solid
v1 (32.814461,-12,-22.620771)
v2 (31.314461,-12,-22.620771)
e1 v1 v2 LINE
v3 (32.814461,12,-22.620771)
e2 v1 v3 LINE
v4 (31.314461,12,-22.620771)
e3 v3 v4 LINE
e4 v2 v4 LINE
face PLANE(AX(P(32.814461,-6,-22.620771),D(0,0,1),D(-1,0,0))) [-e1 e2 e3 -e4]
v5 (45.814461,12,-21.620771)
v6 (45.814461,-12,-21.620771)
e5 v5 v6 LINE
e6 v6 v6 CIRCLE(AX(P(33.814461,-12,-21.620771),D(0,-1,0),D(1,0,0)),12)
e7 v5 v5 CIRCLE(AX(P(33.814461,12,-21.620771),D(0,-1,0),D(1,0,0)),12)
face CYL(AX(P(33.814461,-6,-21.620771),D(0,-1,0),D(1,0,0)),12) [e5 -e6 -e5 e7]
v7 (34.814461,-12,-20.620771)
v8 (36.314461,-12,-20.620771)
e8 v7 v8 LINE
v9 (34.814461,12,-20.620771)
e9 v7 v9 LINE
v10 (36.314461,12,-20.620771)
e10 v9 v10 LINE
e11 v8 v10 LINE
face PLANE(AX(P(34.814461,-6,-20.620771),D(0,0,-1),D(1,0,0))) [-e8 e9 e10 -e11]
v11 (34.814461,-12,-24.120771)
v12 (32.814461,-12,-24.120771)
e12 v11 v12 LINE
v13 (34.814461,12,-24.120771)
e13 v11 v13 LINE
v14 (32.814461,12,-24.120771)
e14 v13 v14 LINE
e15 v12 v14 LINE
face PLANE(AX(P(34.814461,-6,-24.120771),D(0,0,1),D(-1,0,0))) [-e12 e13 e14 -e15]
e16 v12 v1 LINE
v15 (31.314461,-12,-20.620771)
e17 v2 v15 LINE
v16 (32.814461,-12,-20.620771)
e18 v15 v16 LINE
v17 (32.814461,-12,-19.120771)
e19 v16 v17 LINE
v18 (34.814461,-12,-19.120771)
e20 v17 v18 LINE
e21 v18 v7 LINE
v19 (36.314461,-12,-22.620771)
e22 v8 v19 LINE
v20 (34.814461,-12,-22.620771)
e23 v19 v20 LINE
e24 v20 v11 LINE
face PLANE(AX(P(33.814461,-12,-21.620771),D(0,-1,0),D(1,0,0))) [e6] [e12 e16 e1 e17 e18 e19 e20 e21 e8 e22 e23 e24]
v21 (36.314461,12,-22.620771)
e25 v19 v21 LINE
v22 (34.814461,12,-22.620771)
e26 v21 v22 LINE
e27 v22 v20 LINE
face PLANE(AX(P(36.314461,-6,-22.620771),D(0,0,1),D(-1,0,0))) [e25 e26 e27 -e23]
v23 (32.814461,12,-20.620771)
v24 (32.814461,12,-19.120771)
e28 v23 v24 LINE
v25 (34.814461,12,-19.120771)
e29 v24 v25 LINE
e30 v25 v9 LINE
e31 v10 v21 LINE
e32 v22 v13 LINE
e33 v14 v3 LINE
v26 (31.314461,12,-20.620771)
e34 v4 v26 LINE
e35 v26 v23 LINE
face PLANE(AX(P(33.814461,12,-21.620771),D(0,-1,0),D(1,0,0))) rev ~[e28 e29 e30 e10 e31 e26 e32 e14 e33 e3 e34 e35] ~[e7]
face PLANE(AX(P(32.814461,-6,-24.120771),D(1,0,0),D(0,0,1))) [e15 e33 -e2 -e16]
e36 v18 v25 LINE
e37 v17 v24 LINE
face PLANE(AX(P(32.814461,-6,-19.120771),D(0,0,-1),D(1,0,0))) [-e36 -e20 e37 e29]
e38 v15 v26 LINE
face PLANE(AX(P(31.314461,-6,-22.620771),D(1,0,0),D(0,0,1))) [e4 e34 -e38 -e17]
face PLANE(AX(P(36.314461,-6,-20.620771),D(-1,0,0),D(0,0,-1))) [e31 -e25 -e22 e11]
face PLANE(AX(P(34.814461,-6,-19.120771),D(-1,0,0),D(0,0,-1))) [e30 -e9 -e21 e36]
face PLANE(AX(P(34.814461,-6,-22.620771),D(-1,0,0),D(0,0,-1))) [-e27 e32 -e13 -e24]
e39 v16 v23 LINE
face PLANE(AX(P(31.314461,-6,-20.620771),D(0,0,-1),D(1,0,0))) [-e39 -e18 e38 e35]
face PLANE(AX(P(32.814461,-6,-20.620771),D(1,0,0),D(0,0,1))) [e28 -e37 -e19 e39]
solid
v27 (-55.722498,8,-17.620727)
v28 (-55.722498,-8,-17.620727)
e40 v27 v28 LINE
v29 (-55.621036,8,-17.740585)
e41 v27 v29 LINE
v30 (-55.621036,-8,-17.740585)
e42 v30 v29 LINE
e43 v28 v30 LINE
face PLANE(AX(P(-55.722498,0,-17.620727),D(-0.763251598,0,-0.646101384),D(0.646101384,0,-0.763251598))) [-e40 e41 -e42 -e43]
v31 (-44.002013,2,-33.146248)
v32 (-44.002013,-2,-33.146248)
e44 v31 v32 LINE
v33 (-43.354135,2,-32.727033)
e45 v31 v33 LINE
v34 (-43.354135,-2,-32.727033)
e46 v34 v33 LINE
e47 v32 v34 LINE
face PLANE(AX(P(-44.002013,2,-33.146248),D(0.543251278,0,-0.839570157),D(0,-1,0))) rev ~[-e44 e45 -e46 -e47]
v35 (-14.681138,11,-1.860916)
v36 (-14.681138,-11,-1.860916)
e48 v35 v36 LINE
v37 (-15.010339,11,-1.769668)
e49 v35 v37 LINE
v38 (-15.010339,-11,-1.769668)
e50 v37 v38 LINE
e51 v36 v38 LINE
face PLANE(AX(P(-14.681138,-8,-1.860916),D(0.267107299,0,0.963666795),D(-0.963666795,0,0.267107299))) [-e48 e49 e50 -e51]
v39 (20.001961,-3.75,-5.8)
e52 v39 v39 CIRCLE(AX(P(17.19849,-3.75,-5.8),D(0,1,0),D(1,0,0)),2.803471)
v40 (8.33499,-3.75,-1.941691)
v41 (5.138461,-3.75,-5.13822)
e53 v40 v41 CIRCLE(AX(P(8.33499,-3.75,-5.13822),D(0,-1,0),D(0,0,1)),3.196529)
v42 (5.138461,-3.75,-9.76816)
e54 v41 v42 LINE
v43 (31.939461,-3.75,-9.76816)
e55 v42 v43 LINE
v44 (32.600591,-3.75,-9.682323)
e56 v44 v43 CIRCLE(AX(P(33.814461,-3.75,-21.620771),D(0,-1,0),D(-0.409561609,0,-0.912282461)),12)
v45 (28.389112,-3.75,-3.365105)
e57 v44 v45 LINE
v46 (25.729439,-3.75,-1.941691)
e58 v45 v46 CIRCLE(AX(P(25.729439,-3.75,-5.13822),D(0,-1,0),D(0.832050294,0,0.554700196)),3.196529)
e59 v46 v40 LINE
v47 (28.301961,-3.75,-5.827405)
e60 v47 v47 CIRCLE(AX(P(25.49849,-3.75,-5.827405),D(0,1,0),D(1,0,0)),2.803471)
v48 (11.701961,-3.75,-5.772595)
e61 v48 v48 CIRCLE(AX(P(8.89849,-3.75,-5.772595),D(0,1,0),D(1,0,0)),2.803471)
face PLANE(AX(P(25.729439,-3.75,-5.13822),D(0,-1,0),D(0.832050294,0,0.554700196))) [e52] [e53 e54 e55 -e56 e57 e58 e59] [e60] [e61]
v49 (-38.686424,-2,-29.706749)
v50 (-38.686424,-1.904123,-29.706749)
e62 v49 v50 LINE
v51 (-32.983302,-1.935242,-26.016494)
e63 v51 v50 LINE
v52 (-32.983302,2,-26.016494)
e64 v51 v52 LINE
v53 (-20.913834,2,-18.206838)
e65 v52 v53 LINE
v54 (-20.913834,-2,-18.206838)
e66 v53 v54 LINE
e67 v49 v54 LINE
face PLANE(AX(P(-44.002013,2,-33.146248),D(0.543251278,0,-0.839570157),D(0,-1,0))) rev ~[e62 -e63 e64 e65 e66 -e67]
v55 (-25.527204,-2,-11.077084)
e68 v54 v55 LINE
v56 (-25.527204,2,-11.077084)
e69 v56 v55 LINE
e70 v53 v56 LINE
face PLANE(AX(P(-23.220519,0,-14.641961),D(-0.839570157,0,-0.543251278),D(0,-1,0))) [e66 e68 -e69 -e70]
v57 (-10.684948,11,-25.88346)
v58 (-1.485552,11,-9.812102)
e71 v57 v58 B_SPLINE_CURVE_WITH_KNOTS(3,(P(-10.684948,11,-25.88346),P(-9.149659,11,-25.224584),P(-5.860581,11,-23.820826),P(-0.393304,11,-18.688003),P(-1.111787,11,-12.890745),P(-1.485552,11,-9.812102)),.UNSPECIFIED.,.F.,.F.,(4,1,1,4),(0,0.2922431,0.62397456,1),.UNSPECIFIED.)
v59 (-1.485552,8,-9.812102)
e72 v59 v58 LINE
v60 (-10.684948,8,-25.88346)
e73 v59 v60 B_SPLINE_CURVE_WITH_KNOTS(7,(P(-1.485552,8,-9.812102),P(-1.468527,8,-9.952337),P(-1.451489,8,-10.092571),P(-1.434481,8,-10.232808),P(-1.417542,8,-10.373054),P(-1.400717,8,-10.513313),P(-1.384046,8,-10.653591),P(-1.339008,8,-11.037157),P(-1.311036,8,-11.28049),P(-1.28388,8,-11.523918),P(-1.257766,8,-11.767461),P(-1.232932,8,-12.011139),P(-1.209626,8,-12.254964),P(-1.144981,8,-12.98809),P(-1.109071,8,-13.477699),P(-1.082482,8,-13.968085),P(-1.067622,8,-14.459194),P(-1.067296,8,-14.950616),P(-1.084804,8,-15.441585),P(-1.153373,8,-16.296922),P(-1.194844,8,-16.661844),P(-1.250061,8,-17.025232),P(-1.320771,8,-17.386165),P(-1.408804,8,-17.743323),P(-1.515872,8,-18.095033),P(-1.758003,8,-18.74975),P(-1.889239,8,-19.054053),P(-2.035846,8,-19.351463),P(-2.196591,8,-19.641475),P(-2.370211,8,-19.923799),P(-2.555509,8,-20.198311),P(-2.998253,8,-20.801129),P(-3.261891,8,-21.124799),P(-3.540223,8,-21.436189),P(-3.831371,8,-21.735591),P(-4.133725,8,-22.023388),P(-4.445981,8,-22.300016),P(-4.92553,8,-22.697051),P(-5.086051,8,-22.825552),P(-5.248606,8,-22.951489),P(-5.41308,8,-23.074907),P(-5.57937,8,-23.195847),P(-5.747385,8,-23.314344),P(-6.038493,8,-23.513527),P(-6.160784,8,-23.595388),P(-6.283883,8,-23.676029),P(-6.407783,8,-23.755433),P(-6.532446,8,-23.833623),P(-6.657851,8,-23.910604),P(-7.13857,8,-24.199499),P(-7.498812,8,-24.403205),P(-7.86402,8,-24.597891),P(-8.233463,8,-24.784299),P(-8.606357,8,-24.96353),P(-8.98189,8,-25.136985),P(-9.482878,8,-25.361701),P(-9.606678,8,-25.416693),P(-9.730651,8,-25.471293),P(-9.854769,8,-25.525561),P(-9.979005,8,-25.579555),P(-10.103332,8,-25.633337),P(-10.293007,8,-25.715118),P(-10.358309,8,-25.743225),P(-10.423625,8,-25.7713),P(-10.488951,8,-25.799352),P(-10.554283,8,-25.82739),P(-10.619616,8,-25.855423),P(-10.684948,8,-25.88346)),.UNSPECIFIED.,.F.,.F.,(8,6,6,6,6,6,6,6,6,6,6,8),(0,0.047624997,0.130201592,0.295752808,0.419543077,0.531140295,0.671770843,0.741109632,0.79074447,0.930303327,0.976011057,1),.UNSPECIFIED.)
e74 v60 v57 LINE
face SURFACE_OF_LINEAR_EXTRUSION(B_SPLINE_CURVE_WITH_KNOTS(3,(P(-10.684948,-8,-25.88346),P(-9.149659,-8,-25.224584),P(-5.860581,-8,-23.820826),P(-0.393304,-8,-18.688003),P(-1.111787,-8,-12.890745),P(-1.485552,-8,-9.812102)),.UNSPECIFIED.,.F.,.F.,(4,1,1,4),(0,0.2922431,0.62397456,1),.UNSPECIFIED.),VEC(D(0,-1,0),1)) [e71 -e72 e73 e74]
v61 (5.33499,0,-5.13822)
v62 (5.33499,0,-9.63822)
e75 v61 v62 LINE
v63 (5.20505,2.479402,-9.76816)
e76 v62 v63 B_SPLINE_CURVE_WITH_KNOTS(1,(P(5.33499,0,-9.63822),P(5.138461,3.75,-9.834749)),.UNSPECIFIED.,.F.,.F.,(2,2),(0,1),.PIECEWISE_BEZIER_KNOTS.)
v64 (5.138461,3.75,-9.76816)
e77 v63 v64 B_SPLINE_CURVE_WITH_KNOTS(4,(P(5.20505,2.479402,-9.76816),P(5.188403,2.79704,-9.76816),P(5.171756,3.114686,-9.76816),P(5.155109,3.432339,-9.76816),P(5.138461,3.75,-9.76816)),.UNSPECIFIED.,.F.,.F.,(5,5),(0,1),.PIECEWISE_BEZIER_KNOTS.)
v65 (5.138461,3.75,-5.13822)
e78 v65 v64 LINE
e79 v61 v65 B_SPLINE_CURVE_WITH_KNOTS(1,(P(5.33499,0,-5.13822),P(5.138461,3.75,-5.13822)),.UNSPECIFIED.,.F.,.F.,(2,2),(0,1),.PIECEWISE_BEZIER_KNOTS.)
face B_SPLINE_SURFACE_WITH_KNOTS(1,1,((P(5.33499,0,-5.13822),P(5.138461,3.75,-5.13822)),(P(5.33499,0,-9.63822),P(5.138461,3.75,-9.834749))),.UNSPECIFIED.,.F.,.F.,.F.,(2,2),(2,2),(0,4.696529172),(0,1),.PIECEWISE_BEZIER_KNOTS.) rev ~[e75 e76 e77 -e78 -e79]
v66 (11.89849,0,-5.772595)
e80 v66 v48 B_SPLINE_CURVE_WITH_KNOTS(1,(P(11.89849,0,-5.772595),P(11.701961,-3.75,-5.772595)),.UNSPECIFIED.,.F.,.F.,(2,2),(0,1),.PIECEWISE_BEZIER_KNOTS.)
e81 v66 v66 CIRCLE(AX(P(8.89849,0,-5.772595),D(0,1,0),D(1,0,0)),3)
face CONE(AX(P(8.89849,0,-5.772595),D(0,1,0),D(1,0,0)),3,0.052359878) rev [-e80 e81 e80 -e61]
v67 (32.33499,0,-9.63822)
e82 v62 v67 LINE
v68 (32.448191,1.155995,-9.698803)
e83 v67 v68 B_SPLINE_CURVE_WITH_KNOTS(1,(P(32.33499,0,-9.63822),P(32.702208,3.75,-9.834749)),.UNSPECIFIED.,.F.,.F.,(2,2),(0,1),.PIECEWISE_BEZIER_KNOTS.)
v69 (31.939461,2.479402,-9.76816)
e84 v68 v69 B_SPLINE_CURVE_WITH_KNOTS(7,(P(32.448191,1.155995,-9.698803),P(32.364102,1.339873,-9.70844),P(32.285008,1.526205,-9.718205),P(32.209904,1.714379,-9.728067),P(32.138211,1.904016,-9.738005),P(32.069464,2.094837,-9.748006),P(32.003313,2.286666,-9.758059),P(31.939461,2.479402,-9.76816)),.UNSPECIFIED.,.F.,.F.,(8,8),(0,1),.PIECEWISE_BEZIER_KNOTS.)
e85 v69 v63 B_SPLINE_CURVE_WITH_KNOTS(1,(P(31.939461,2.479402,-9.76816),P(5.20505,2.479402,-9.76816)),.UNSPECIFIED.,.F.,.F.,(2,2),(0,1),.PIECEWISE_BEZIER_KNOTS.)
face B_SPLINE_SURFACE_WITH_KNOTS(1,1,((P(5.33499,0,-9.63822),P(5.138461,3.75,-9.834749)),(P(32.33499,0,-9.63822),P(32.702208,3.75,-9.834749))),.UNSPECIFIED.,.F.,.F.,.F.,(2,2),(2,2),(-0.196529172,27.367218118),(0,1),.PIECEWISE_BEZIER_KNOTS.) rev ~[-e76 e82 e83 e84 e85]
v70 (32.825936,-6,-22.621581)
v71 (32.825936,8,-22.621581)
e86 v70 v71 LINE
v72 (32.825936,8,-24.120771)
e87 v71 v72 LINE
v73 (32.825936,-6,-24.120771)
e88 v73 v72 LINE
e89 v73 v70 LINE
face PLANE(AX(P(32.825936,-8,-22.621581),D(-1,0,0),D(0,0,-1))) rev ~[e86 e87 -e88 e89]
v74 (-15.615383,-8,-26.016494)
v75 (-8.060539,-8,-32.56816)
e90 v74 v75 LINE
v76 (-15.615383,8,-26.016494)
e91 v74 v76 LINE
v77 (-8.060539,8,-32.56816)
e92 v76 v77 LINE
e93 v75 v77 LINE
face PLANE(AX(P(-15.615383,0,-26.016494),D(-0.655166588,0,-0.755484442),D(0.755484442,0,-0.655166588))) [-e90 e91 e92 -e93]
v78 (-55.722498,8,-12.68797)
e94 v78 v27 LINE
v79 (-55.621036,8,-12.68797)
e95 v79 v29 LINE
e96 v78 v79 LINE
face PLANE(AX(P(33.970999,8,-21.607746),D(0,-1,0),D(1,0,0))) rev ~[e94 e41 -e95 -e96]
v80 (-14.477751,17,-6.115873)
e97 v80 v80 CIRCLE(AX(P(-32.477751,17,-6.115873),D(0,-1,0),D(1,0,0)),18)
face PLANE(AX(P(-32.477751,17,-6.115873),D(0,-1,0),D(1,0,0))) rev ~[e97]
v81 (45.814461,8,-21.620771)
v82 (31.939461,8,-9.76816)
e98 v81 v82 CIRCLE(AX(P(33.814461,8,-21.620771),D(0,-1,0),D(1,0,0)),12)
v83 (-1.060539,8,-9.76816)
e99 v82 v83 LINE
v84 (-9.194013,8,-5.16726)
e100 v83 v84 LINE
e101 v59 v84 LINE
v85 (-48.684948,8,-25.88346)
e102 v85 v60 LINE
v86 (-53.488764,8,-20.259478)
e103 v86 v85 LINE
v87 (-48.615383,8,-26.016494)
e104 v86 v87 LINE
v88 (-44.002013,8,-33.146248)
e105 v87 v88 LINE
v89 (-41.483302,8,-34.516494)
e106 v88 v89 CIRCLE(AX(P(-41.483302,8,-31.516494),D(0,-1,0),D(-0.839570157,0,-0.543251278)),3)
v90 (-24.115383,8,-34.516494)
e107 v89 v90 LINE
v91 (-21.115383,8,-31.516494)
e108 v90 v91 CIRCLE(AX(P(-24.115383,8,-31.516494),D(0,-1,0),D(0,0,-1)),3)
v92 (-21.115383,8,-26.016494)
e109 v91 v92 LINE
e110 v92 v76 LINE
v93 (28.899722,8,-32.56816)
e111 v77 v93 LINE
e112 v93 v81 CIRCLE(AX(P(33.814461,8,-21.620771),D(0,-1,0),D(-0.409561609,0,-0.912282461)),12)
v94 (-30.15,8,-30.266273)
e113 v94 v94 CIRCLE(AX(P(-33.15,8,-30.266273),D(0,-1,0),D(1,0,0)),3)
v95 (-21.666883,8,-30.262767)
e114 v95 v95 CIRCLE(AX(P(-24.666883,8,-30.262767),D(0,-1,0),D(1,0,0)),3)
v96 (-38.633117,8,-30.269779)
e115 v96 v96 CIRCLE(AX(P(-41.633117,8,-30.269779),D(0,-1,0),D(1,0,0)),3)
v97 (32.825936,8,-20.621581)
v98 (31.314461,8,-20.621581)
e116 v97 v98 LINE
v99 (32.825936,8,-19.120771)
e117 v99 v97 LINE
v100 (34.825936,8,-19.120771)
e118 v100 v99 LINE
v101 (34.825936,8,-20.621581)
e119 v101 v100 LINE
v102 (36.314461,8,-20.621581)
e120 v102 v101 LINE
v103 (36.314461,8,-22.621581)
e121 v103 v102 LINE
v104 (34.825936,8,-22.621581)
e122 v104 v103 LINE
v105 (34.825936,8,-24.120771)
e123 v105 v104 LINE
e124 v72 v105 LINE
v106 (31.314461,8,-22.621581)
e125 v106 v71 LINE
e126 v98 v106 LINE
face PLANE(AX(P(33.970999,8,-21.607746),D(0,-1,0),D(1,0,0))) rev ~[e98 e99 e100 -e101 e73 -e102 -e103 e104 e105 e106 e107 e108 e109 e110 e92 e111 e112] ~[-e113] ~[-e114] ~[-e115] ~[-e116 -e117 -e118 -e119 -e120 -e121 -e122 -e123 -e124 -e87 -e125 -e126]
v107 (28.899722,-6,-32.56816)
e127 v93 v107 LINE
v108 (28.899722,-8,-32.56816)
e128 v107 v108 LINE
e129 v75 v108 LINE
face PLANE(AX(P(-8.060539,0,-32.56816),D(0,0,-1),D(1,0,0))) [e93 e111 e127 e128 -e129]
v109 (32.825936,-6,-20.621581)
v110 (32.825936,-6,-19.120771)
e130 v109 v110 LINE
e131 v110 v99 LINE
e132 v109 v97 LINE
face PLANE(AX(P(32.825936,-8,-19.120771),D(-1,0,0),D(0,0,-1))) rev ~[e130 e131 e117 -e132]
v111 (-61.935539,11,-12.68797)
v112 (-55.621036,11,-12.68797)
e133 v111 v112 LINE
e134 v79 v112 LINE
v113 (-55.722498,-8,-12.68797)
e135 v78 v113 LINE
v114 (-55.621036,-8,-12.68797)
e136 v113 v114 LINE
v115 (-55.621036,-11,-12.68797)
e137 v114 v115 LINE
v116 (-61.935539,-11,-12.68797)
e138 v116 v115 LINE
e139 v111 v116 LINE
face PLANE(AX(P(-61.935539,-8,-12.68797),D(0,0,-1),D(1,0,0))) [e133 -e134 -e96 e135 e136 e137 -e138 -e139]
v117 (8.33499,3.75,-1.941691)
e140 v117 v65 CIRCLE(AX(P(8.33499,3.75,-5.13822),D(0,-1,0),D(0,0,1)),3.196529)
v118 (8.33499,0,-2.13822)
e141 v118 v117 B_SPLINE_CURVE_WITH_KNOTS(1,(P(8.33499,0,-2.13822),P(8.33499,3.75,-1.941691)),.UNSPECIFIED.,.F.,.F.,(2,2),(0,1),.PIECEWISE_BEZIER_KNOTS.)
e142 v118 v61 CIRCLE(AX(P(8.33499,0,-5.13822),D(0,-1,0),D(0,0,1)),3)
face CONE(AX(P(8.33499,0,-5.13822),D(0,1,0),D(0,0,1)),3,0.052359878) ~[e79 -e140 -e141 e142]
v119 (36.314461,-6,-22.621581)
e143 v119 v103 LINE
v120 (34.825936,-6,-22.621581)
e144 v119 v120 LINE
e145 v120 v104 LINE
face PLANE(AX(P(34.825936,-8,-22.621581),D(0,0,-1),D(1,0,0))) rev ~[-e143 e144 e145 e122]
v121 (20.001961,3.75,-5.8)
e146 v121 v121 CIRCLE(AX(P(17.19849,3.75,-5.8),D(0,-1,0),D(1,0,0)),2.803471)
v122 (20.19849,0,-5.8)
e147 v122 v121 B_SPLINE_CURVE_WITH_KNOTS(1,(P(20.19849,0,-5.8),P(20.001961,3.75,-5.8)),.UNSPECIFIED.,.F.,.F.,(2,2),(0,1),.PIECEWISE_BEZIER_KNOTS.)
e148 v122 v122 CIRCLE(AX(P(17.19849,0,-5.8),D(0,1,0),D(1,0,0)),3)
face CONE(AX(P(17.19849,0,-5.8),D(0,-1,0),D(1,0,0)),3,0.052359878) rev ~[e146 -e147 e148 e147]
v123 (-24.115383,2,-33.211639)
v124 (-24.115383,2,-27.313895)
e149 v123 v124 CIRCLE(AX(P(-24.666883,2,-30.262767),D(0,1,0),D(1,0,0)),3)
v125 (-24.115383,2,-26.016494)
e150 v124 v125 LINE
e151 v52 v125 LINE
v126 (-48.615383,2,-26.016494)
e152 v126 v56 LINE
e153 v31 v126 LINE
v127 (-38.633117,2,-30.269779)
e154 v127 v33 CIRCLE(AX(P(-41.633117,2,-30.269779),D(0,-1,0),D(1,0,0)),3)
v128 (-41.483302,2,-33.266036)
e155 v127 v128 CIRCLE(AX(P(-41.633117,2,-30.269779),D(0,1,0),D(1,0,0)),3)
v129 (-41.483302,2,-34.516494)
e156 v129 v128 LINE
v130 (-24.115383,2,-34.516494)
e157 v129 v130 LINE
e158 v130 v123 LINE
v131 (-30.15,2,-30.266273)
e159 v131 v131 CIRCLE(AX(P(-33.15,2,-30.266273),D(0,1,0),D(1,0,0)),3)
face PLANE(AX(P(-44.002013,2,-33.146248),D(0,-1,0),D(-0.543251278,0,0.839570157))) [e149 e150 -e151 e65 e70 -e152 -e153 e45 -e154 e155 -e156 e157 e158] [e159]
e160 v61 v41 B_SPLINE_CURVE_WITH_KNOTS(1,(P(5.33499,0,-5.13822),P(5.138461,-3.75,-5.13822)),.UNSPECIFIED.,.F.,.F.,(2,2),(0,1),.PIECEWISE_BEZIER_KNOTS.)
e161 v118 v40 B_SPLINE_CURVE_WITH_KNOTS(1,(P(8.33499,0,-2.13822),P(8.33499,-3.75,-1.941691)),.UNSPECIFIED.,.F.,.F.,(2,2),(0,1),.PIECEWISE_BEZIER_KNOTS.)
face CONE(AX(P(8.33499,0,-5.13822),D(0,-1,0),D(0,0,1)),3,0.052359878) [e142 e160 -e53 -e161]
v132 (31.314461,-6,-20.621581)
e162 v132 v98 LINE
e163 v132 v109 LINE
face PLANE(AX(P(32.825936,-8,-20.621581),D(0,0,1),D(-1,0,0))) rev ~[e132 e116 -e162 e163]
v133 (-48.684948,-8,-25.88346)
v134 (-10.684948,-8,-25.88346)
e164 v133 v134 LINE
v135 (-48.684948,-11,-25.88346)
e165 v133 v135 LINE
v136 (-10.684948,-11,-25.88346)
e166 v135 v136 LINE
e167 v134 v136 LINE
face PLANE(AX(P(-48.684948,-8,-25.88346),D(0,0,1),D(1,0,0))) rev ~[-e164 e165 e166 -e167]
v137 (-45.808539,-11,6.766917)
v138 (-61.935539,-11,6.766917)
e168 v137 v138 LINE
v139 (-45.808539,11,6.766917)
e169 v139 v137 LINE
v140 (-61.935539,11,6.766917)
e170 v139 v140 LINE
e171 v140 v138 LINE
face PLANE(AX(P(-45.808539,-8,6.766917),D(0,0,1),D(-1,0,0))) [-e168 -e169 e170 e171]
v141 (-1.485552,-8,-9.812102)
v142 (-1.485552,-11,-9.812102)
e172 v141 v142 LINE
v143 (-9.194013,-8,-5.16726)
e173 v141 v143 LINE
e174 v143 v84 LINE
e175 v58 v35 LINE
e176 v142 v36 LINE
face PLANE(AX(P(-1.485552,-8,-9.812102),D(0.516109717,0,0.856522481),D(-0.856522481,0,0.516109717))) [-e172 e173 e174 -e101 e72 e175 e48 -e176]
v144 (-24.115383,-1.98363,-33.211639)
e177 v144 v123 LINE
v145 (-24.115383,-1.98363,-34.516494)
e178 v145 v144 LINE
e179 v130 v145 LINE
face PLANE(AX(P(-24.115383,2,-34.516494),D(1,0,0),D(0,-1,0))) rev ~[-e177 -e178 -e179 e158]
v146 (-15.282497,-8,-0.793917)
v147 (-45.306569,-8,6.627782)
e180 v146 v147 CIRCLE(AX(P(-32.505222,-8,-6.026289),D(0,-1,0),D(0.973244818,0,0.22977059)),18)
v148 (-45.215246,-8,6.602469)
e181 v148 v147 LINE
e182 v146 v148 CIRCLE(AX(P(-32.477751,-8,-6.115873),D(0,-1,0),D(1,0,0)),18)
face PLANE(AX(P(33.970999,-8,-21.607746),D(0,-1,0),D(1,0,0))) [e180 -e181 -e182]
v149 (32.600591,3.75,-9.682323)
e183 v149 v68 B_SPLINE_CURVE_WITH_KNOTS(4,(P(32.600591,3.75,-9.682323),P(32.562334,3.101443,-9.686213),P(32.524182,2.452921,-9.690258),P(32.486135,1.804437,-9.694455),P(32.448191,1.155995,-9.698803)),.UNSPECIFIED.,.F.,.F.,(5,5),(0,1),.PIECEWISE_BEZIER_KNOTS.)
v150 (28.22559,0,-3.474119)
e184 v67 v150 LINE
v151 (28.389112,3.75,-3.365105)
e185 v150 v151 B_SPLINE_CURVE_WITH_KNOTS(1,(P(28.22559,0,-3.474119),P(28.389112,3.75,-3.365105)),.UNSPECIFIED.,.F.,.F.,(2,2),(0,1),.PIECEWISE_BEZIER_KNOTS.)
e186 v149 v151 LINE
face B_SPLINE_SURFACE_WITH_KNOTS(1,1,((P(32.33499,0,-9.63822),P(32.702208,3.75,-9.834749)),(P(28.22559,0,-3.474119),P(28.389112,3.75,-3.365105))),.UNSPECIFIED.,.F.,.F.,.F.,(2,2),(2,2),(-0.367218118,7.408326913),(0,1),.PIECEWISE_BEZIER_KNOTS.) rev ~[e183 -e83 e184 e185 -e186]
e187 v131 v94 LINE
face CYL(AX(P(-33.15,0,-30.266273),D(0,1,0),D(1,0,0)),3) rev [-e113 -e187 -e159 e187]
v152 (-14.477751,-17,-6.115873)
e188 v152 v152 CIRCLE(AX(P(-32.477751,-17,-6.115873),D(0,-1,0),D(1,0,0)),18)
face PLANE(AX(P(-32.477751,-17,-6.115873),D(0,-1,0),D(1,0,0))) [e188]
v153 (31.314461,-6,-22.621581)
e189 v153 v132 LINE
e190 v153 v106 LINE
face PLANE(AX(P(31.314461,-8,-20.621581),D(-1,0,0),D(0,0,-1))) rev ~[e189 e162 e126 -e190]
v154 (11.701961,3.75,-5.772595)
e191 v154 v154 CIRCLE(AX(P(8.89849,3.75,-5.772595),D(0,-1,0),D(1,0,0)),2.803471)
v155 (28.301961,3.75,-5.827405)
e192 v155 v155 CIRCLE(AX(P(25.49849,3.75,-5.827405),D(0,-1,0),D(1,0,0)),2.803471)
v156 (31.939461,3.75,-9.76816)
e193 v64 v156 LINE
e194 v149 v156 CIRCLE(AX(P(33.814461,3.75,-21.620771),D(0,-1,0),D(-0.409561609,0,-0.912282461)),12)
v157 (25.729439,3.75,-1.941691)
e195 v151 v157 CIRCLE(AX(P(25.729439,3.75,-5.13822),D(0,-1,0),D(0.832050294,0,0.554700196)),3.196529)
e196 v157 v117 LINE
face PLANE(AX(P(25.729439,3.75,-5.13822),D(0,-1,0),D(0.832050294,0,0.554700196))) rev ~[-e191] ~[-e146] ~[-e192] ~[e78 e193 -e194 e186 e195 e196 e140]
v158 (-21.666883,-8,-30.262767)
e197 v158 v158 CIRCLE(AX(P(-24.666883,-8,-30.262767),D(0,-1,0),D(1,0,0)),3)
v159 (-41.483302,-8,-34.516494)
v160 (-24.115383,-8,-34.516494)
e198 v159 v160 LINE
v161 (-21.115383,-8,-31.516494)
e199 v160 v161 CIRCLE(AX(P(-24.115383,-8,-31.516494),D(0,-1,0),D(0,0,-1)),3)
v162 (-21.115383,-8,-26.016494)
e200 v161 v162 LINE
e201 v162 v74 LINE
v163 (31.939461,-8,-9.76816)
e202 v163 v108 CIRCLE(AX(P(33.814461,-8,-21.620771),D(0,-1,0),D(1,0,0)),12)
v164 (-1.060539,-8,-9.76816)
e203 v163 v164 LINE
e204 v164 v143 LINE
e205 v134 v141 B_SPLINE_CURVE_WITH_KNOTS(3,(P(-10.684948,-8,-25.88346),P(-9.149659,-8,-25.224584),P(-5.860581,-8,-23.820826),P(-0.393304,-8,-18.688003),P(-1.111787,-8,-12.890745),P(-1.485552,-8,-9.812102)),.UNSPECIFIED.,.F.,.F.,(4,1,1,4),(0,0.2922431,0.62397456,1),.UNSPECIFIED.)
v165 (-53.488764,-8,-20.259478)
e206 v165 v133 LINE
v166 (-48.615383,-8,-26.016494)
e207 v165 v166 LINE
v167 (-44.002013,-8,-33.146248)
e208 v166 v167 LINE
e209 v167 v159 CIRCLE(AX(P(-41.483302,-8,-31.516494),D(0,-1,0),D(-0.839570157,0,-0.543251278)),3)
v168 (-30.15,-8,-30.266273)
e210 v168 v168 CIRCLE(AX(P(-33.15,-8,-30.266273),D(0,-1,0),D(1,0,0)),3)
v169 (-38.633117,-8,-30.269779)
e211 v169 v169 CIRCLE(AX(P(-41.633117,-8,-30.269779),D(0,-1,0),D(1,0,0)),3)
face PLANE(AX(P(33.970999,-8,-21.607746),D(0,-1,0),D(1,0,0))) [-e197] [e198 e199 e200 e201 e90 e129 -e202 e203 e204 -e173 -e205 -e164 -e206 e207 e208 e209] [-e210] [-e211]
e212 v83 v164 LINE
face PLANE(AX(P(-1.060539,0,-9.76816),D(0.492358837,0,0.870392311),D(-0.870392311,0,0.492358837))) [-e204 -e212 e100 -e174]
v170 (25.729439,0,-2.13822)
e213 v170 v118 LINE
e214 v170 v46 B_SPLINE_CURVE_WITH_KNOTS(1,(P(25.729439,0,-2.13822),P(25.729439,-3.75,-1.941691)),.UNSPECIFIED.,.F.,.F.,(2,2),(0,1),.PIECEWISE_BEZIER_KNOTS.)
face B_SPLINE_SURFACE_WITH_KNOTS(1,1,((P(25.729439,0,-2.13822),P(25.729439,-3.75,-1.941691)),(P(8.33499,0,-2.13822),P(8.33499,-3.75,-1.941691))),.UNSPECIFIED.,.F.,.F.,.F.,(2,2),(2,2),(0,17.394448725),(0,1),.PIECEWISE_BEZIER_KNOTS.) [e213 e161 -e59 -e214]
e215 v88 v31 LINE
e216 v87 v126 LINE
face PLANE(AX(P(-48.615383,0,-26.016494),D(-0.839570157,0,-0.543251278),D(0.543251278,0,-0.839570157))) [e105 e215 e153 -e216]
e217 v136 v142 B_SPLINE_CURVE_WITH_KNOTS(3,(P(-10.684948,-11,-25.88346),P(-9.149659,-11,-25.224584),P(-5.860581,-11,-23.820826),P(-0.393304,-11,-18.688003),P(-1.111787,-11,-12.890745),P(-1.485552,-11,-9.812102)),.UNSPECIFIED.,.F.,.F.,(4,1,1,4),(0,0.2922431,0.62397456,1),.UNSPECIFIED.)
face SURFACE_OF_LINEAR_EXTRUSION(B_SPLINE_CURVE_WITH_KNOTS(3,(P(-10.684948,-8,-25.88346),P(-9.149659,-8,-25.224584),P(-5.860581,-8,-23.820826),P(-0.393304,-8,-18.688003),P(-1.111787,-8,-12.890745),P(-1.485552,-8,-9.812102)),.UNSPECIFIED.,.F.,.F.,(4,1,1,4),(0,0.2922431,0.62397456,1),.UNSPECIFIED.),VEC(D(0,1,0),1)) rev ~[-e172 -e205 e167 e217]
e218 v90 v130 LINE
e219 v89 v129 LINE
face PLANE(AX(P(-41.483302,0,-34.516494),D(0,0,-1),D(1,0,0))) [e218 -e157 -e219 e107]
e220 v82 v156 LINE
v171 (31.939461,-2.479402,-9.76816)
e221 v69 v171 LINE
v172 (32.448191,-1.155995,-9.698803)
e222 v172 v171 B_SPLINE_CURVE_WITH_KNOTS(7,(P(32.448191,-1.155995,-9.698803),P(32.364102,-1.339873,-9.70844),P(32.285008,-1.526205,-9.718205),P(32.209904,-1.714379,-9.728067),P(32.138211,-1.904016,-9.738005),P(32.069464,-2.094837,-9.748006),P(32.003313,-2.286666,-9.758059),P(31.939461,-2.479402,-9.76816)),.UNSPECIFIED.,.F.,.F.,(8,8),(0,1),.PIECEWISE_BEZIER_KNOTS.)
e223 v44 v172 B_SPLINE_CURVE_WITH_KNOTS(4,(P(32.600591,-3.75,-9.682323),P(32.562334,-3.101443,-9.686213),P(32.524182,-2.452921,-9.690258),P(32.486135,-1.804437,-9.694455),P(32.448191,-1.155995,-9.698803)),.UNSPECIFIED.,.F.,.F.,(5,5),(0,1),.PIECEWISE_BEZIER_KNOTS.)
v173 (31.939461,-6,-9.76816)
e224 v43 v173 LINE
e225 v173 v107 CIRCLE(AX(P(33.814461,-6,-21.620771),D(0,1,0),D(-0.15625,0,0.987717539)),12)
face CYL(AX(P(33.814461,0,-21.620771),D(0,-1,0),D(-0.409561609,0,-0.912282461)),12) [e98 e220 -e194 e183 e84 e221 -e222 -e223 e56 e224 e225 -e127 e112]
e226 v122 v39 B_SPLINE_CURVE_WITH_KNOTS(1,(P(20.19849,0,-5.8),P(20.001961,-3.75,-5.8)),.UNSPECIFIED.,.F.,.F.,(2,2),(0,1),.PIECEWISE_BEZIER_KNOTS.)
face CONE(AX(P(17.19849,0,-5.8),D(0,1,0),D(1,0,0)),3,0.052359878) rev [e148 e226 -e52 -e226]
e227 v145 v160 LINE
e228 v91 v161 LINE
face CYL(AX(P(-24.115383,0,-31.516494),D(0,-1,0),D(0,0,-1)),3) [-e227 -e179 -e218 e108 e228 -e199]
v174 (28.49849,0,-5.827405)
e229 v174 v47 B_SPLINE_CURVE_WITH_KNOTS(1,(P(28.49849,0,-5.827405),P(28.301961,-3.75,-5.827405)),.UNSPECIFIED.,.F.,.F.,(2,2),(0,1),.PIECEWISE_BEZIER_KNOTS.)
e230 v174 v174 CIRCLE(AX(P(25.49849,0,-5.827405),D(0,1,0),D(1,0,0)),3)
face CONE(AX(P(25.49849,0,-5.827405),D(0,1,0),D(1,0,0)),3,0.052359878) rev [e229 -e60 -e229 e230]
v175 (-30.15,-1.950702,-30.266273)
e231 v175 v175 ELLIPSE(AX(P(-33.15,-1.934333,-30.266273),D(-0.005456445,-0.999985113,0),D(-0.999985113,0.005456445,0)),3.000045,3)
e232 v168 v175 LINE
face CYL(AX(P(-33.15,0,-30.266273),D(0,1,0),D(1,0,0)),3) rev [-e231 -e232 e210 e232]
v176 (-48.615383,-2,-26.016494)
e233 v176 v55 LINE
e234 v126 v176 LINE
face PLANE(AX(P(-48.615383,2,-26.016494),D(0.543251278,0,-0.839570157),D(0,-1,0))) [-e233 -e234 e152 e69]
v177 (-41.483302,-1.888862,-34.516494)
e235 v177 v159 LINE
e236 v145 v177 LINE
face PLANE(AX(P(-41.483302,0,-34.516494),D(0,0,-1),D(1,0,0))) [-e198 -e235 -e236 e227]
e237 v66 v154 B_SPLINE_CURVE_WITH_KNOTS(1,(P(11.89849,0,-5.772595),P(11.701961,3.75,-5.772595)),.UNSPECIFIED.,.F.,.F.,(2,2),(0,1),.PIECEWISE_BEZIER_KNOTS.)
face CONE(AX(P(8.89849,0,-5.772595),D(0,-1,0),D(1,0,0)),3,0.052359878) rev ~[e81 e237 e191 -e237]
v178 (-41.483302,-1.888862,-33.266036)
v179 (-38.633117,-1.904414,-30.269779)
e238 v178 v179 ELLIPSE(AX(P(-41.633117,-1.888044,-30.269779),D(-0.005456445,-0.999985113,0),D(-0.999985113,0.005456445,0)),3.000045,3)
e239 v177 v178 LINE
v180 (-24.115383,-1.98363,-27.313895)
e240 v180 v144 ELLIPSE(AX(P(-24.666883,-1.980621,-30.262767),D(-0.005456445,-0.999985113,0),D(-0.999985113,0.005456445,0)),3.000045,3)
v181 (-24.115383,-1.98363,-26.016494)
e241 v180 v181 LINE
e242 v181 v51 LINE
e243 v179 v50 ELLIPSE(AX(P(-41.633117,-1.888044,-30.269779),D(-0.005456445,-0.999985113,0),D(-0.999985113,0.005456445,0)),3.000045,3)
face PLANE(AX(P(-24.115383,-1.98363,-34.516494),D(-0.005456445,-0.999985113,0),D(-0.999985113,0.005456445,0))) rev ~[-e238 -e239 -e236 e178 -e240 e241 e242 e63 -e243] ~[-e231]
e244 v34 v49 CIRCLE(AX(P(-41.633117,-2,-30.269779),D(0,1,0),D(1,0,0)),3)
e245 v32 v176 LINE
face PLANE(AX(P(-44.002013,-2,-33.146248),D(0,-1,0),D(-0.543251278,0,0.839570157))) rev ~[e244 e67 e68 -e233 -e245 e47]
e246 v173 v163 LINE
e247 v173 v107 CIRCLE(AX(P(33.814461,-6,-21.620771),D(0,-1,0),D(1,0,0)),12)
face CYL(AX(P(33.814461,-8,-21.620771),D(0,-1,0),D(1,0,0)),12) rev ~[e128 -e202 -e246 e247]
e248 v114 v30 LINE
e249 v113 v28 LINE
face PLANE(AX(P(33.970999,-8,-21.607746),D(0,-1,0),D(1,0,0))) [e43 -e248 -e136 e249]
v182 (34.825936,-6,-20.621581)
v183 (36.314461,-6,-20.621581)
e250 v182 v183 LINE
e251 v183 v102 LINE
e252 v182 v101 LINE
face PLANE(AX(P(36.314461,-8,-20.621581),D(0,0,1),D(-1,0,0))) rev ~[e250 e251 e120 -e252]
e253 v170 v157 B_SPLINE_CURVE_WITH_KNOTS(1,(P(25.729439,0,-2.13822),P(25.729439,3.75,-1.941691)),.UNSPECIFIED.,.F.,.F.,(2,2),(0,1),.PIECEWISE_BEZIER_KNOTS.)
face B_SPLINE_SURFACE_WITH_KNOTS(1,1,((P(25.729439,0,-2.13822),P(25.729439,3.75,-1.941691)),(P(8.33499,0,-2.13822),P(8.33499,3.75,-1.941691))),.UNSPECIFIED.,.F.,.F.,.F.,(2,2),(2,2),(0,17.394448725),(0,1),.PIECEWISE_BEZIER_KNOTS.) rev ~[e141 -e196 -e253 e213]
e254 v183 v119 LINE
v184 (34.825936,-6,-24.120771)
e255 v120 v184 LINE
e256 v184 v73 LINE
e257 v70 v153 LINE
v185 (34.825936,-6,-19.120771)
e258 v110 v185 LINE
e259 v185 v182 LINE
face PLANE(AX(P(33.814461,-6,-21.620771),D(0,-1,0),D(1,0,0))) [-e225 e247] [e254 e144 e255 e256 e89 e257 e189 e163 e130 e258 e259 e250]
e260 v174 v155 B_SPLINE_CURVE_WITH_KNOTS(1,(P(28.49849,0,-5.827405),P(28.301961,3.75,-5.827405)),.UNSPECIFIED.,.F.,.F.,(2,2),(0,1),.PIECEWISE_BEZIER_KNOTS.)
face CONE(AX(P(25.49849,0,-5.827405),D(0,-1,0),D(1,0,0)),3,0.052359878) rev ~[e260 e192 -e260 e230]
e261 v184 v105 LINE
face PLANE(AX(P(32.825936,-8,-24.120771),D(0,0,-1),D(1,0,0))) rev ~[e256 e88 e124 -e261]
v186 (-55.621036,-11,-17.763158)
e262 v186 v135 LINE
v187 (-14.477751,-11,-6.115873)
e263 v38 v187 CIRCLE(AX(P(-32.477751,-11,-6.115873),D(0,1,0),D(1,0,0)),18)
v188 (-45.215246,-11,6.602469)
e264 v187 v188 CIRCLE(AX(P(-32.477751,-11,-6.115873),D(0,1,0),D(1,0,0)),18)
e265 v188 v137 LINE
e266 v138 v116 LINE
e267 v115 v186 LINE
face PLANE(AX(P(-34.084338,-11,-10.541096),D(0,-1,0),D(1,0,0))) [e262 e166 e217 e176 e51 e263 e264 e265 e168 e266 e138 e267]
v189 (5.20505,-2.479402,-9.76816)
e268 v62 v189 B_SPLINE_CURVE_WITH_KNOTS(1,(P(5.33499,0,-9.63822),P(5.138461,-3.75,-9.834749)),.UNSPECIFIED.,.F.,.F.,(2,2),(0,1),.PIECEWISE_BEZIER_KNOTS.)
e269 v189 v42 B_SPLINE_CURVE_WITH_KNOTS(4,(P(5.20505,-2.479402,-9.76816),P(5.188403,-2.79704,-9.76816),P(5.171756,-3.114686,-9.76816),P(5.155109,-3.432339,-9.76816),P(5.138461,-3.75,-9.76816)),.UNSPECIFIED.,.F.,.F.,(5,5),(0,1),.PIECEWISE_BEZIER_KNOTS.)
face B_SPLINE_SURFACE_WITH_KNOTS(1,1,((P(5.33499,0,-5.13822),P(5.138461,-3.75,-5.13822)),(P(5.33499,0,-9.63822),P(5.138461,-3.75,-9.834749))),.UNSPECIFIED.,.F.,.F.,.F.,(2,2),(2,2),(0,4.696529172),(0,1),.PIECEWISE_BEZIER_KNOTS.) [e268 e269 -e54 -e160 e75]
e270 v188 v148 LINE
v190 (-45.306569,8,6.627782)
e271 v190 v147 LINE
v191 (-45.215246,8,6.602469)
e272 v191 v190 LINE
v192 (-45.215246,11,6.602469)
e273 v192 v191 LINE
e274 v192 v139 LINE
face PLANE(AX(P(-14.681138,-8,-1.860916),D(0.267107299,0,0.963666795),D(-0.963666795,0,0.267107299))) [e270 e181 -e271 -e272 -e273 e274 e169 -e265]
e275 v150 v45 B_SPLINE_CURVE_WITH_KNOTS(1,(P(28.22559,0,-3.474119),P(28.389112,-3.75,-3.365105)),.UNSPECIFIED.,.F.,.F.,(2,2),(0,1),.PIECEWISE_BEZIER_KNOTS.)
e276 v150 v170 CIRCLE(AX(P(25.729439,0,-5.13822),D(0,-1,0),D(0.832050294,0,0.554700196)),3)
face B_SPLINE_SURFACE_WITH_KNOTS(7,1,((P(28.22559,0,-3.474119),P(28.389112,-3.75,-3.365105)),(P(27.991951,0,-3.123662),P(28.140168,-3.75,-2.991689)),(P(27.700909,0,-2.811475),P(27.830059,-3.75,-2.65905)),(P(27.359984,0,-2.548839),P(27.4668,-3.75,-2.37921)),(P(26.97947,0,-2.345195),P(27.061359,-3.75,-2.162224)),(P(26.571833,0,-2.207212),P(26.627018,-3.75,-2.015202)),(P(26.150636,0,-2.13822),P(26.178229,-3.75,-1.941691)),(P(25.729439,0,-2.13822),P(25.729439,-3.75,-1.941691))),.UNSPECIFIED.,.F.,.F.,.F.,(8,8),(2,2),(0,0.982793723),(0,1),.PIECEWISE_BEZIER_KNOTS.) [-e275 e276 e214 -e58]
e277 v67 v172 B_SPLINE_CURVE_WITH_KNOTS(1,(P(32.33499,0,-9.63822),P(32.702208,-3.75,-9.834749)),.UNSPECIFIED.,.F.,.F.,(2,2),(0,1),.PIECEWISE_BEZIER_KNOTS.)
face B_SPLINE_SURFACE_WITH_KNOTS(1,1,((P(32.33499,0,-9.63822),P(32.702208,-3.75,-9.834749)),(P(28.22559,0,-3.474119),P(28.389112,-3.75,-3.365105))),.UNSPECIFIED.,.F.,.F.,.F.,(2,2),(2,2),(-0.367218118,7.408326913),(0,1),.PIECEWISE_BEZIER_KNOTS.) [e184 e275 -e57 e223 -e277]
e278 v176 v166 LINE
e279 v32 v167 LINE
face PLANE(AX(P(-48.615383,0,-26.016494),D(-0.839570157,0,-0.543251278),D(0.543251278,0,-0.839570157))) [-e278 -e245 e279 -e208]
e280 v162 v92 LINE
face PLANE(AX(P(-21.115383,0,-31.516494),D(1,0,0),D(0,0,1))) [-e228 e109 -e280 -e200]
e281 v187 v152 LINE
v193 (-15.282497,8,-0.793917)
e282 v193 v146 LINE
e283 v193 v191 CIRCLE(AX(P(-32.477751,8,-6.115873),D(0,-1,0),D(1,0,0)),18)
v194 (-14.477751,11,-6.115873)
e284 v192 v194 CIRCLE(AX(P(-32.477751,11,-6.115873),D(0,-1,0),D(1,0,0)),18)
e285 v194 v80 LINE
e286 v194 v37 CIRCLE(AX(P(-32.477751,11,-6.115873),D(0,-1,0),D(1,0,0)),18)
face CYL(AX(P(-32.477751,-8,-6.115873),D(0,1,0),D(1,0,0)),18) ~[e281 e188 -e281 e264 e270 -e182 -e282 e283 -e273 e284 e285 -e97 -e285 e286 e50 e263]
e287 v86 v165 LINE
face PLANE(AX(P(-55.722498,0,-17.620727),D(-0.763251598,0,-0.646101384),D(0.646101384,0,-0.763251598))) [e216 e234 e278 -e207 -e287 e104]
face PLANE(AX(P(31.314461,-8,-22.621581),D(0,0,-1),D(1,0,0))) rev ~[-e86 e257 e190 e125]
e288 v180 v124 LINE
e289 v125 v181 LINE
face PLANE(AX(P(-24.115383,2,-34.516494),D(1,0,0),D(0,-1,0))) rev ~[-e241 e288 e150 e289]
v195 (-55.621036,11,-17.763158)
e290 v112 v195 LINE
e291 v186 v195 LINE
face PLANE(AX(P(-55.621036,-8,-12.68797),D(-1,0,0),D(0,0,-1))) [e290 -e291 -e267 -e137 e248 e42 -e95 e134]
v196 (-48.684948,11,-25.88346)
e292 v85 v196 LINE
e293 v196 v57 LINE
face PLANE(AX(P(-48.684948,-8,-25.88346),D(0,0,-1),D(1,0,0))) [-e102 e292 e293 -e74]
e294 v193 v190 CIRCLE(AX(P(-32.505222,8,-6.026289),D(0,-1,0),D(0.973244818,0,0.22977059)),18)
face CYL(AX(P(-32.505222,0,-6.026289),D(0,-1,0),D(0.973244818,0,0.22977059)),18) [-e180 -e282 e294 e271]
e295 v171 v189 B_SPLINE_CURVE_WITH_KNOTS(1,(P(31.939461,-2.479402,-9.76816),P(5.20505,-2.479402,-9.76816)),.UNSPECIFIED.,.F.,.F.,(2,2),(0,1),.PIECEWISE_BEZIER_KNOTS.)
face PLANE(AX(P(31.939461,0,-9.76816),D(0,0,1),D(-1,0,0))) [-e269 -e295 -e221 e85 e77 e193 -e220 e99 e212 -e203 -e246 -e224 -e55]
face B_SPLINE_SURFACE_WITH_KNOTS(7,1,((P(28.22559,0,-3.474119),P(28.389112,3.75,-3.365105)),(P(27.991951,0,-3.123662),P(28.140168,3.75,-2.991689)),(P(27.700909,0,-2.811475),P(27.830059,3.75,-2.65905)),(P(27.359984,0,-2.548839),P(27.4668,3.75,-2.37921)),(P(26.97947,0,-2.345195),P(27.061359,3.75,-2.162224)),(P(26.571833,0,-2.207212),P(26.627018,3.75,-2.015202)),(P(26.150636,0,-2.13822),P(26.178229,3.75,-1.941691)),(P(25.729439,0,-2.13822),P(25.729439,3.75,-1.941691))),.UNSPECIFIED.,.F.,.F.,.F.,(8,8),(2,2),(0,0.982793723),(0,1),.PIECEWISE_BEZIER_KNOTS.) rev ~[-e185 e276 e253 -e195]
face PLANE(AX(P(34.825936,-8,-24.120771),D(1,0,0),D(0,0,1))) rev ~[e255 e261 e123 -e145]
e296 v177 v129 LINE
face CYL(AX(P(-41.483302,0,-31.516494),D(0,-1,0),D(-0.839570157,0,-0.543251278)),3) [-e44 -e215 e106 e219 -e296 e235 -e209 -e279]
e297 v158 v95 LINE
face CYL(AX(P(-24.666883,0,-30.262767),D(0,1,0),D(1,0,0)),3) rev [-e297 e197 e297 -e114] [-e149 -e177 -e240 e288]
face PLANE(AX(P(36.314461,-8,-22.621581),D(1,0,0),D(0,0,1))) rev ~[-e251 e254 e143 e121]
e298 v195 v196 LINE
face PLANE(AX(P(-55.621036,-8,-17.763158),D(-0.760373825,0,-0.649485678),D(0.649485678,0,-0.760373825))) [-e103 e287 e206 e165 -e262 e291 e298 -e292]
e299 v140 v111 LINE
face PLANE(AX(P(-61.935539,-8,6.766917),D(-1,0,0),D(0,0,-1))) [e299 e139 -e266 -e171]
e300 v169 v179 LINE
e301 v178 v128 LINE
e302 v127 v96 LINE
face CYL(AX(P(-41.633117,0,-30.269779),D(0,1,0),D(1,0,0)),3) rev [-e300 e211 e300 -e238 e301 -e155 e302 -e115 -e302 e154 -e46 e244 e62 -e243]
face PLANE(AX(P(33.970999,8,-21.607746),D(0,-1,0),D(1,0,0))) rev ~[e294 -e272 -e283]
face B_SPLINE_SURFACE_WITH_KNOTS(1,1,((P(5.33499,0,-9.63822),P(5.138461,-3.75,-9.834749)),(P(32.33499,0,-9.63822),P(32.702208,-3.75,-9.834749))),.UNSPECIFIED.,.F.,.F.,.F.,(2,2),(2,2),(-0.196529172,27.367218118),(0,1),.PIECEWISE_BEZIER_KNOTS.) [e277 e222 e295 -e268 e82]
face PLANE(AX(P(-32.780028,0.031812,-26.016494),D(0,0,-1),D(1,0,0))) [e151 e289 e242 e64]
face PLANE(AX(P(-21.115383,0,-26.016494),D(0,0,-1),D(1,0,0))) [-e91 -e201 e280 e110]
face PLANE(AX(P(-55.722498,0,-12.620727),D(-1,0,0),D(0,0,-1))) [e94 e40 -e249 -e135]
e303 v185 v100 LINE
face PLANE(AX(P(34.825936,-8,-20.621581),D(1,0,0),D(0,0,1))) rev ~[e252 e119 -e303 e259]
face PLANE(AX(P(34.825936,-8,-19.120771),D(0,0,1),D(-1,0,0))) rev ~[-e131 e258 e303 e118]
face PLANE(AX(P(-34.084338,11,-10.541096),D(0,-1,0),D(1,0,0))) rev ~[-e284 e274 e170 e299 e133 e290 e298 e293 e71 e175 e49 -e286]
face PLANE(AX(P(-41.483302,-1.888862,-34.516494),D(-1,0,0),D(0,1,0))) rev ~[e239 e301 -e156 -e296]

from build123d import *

# Parameters (mm, degrees)
F0_R           = 3
F1_DEPTH       = 8
F3_DEPTH       = 3
F3_DEPTH_BACK  = 19
F4_R           = 18
F5_DEPTH       = 9
F5_DEPTH_BACK  = 25
F6_R           = 12
F7_DEPTH       = 2
F6_W           = 2
F6_H           = 2
F8_DEPTH       = 25
F9_R           = 12
F10_DEPTH      = 6
F10_DEPTH_BACK = 18
F11_R          = 3
F12_DEPTH      = 3.75
F12_TAPER      = -3
F13_W          = 4
F13_H          = 8.492147766
F14_DEPTH      = 27.5
F16_DEPTH      = 8.5


with BuildPart() as f1:
    # F0 (on Front) → F1 (new body, symmetric)
    with BuildSketch(Plane.XZ):
        with BuildLine():
            ThreePointArc((28.8997220542, -32.5681600285), (40.3345506401, -31.6949174064), (45.8144613679, -21.6207705004))
            ThreePointArc((45.8144613679, -21.6207705004), (41.6086900019, -12.496626705), (31.9394613679, -9.7681600285))
            ThreePointArc((31.9394613679, -9.7681600285), (21.9197087438, -20.0349394839), (28.8997220542, -32.5681600285))
        make_face()
        with BuildLine():
            ThreePointArc((28.8997220542, -32.5681600285), (21.9197087438, -20.0349394839), (31.9394613679, -9.7681600285))
            Line((31.9394613679, -9.7681600285), (-1.0605386321, -9.7681600285))
            Line((-1.0605386321, -9.7681600285), (-14.9868156094, -1.8904186293))
            ThreePointArc((-14.9868156094, -1.8904186293), (-14.6260260287, -3.9443816015), (-14.5052223339, -6.0262892555))
            ThreePointArc((-14.5052223339, -6.0262892555), (-39.1849793142, -22.7409788034), (-45.5475386321, 6.3792734313))
            Line((-45.5475386321, 6.3792734313), (-61.9355386321, 6.3792734313))
            Line((-61.9355386321, 6.3792734313), (-61.9355386321, -12.6207265687))
            Line((-61.9355386321, -12.6207265687), (-55.7224982709, -12.6207265687))
            Line((-55.7224982709, -12.6207265687), (-55.7224982709, -17.6207265687))
            Line((-55.7224982709, -17.6207265687), (-48.6153830514, -26.0164941487))
            Line((-48.6153830514, -26.0164941487), (-21.1153830514, -26.0164941487))
            Line((-21.1153830514, -26.0164941487), (-15.6153830514, -26.0164941487))
            Line((-15.6153830514, -26.0164941487), (-8.0605386321, -32.5681600285))
            Line((-8.0605386321, -32.5681600285), (28.8997220542, -32.5681600285))
        make_face()
        with BuildLine():
            ThreePointArc((-14.5052223339, -6.0262892555), (-14.6260260287, -3.9443816015), (-14.9868156094, -1.8904186293))
            ThreePointArc((-14.9868156094, -1.8904186293), (-27.8035419885, 11.3488136774), (-45.5475386321, 6.3792734313))
            ThreePointArc((-45.5475386321, 6.3792734313), (-39.1849793142, -22.7409788034), (-14.5052223339, -6.0262892555))
        make_face()
        with BuildLine():
            Line((-21.1153830514, -31.5164941487), (-21.1153830514, -26.0164941487))
            Line((-21.1153830514, -26.0164941487), (-48.6153830514, -26.0164941487))
            Line((-48.6153830514, -26.0164941487), (-44.0020129232, -33.1462479831))
            ThreePointArc((-44.0020129232, -33.1462479831), (-42.9169583548, -34.1517608812), (-41.4833024518, -34.5164941487))
            Line((-41.4833024518, -34.5164941487), (-24.1153830514, -34.5164941487))
            ThreePointArc((-24.1153830514, -34.5164941487), (-21.9940627078, -33.6378144922), (-21.1153830514, -31.5164941487))
        make_face()
        with Locations((-41.6331169486, -30.2697786638)):
            Circle(F0_R, mode=Mode.SUBTRACT)
        with Locations((-33.15, -30.2662728124)):
            Circle(F0_R, mode=Mode.SUBTRACT)
        with Locations((-24.6668830514, -30.2627669611)):
            Circle(F0_R, mode=Mode.SUBTRACT)
    extrude(amount=F1_DEPTH, both=True)

    # F2 (on face) → F3 (join, two sides)
    with BuildSketch(Plane.XZ.offset(8)) as f3_sk:
        with BuildLine():
            Line((-55.621036489, -17.7631583065), (-48.6849482846, -25.8834604174))
            Line((-48.6849482846, -25.8834604174), (-10.6849482846, -25.8834604174))
            add(Edge.make_bspline(
                [(-10.6849482846, -25.8834604174), (-9.1496588201, -25.2245842157), (-5.8605813582, -23.8208255042), (-0.3933036353, -18.6880027926), (-1.1117873909, -12.8907449361), (-1.4855521638, -9.8121019742)],
                knots=[0, 0, 0, 0, 0.2922430998, 0.6239745595, 1, 1, 1, 1], degree=3))
            Line((-1.4855521638, -9.8121019742), (-14.6811375002, -1.860915671))
            Line((-14.6811375002, -1.860915671), (-45.8085386321, 6.766917184))
            Line((-45.8085386321, 6.766917184), (-61.9355386321, 6.766917184))
            Line((-61.9355386321, 6.766917184), (-61.9355386321, -12.6879699528))
            Line((-61.9355386321, -12.6879699528), (-55.621036489, -12.6879699528))
            Line((-55.621036489, -12.6879699528), (-55.621036489, -17.7631583065))
        make_face()
    extrude(amount=F3_DEPTH)
    extrude(f3_sk.sketch, amount=-F3_DEPTH_BACK)

    # F4 (on face) → F5 (join, two sides)
    with BuildSketch(Plane.XZ.offset(8)) as f5_sk:
        with Locations((-32.4777513742, -6.1158728786)):
            Circle(F4_R)
    extrude(amount=F5_DEPTH)
    extrude(f5_sk.sketch, amount=-F5_DEPTH_BACK)

    # F6 (on face) → F7 (cut)
    with BuildSketch(Plane.XZ.offset(8)):
        with Locations((33.8144613679, -21.6207705004)):
            Circle(F6_R)
        Polygon((34.825936354, -24.1207705004), (33.8144613679, -24.1207705004), (32.825936354, -24.1207705004), (32.825936354, -22.6215814927), (31.3144613679, -22.6215814927), (31.3144613679, -21.6207705004), (31.3144613679, -20.6215814927), (32.825936354, -20.6215814927), (32.825936354, -19.1207705004), (33.8144613679, -19.1207705004), (34.825936354, -19.1207705004), (34.825936354, -20.6215814927), (36.3144613679, -20.6215814927), (36.3144613679, -21.6207705004), (36.3144613679, -22.6215814927), (34.825936354, -22.6215814927), align=None, mode=Mode.SUBTRACT)
    extrude(amount=-F7_DEPTH, mode=Mode.SUBTRACT)

    # F6 (on face) → F8 (cut)
    with BuildSketch(Plane.XZ.offset(8)):
        with Locations((33.825936354, -21.6215814927)):
            Rectangle(F6_W, F6_H)
        Polygon((31.3144613679, -22.6215814927), (32.825936354, -22.6215814927), (32.825936354, -20.6215814927), (31.3144613679, -20.6215814927), (31.3144613679, -21.6207705004), align=None)
        Polygon((32.825936354, -20.6215814927), (34.825936354, -20.6215814927), (34.825936354, -19.1207705004), (33.8144613679, -19.1207705004), (32.825936354, -19.1207705004), align=None)
        Polygon((34.825936354, -20.6215814927), (34.825936354, -22.6215814927), (36.3144613679, -22.6215814927), (36.3144613679, -21.6207705004), (36.3144613679, -20.6215814927), align=None)
        Polygon((32.825936354, -24.1207705004), (33.8144613679, -24.1207705004), (34.825936354, -24.1207705004), (34.825936354, -22.6215814927), (32.825936354, -22.6215814927), align=None)
    extrude(amount=-F8_DEPTH, mode=Mode.SUBTRACT)

    # F11 (on Front) → F12 (join, symmetric)
    with BuildSketch(Plane.XZ):
        with BuildLine():
            Line((5.3349900991, -9.6382200718), (32.3349900991, -9.6382200718))
            Line((32.3349900991, -9.6382200718), (28.2255897066, -3.4741194831))
            ThreePointArc((28.2255897066, -3.4741194831), (27.1450126002, -2.4931962755), (25.7294388236, -2.1382200718))
            Line((25.7294388236, -2.1382200718), (8.3349900991, -2.1382200718))
            ThreePointArc((8.3349900991, -2.1382200718), (6.2136697555, -3.0168997282), (5.3349900991, -5.1382200718))
            Line((5.3349900991, -5.1382200718), (5.3349900991, -9.6382200718))
        make_face()
        with Locations((8.8984900991, -5.7725948282)):
            Circle(F11_R, mode=Mode.SUBTRACT)
        with Locations((17.1984900991, -5.8)):
            Circle(F11_R, mode=Mode.SUBTRACT)
        with Locations((25.4984900991, -5.8274051718)):
            Circle(F11_R, mode=Mode.SUBTRACT)
    extrude(amount=F12_DEPTH, both=True, taper=F12_TAPER)

    # F13 (on face) → F14 (cut)
    with BuildSketch(Plane(origin=(-46.1339758723, 0, -29.8513961527), x_dir=(0, -1, 0), z_dir=(-0.8395701572, 0, -0.5432512782))):
        with Locations((0, 0.3216230168)):
            Rectangle(F13_W, F13_H)
    extrude(amount=-F14_DEPTH, mode=Mode.SUBTRACT)

    # F15 (on face) → F16 (cut)
    with BuildSketch(Plane(origin=(0, 0, -34.5164941487), x_dir=(1, 0, 0), z_dir=(0, 0, -1))):
        Polygon((-41.4833024518, -2), (-24.1153830514, -2), (-24.1153830514, 1.9836304207), (-41.4833024518, 1.8888619093), align=None)
    extrude(amount=-F16_DEPTH, mode=Mode.SUBTRACT)


with BuildPart() as f10:
    # F9 (on face) → F10 (new body, two sides)
    with BuildSketch(Plane.XZ.offset(6)) as f10_sk:
        with Locations((33.8144613679, -21.6207705004)):
            Circle(F9_R)
        Polygon((34.8144613679, -22.6207705004), (34.8144613679, -24.1207705004), (32.8144613679, -24.1207705004), (32.8144613679, -22.6207705004), (31.3144613679, -22.6207705004), (31.3144613679, -20.6207705004), (32.8144613679, -20.6207705004), (32.8144613679, -19.1207705004), (34.8144613679, -19.1207705004), (34.8144613679, -20.6207705004), (36.3144613679, -20.6207705004), (36.3144613679, -22.6207705004), align=None, mode=Mode.SUBTRACT)
    extrude(amount=F10_DEPTH)
    extrude(f10_sk.sketch, amount=-F10_DEPTH_BACK)


solid = Compound([f1.part, f10.part])
